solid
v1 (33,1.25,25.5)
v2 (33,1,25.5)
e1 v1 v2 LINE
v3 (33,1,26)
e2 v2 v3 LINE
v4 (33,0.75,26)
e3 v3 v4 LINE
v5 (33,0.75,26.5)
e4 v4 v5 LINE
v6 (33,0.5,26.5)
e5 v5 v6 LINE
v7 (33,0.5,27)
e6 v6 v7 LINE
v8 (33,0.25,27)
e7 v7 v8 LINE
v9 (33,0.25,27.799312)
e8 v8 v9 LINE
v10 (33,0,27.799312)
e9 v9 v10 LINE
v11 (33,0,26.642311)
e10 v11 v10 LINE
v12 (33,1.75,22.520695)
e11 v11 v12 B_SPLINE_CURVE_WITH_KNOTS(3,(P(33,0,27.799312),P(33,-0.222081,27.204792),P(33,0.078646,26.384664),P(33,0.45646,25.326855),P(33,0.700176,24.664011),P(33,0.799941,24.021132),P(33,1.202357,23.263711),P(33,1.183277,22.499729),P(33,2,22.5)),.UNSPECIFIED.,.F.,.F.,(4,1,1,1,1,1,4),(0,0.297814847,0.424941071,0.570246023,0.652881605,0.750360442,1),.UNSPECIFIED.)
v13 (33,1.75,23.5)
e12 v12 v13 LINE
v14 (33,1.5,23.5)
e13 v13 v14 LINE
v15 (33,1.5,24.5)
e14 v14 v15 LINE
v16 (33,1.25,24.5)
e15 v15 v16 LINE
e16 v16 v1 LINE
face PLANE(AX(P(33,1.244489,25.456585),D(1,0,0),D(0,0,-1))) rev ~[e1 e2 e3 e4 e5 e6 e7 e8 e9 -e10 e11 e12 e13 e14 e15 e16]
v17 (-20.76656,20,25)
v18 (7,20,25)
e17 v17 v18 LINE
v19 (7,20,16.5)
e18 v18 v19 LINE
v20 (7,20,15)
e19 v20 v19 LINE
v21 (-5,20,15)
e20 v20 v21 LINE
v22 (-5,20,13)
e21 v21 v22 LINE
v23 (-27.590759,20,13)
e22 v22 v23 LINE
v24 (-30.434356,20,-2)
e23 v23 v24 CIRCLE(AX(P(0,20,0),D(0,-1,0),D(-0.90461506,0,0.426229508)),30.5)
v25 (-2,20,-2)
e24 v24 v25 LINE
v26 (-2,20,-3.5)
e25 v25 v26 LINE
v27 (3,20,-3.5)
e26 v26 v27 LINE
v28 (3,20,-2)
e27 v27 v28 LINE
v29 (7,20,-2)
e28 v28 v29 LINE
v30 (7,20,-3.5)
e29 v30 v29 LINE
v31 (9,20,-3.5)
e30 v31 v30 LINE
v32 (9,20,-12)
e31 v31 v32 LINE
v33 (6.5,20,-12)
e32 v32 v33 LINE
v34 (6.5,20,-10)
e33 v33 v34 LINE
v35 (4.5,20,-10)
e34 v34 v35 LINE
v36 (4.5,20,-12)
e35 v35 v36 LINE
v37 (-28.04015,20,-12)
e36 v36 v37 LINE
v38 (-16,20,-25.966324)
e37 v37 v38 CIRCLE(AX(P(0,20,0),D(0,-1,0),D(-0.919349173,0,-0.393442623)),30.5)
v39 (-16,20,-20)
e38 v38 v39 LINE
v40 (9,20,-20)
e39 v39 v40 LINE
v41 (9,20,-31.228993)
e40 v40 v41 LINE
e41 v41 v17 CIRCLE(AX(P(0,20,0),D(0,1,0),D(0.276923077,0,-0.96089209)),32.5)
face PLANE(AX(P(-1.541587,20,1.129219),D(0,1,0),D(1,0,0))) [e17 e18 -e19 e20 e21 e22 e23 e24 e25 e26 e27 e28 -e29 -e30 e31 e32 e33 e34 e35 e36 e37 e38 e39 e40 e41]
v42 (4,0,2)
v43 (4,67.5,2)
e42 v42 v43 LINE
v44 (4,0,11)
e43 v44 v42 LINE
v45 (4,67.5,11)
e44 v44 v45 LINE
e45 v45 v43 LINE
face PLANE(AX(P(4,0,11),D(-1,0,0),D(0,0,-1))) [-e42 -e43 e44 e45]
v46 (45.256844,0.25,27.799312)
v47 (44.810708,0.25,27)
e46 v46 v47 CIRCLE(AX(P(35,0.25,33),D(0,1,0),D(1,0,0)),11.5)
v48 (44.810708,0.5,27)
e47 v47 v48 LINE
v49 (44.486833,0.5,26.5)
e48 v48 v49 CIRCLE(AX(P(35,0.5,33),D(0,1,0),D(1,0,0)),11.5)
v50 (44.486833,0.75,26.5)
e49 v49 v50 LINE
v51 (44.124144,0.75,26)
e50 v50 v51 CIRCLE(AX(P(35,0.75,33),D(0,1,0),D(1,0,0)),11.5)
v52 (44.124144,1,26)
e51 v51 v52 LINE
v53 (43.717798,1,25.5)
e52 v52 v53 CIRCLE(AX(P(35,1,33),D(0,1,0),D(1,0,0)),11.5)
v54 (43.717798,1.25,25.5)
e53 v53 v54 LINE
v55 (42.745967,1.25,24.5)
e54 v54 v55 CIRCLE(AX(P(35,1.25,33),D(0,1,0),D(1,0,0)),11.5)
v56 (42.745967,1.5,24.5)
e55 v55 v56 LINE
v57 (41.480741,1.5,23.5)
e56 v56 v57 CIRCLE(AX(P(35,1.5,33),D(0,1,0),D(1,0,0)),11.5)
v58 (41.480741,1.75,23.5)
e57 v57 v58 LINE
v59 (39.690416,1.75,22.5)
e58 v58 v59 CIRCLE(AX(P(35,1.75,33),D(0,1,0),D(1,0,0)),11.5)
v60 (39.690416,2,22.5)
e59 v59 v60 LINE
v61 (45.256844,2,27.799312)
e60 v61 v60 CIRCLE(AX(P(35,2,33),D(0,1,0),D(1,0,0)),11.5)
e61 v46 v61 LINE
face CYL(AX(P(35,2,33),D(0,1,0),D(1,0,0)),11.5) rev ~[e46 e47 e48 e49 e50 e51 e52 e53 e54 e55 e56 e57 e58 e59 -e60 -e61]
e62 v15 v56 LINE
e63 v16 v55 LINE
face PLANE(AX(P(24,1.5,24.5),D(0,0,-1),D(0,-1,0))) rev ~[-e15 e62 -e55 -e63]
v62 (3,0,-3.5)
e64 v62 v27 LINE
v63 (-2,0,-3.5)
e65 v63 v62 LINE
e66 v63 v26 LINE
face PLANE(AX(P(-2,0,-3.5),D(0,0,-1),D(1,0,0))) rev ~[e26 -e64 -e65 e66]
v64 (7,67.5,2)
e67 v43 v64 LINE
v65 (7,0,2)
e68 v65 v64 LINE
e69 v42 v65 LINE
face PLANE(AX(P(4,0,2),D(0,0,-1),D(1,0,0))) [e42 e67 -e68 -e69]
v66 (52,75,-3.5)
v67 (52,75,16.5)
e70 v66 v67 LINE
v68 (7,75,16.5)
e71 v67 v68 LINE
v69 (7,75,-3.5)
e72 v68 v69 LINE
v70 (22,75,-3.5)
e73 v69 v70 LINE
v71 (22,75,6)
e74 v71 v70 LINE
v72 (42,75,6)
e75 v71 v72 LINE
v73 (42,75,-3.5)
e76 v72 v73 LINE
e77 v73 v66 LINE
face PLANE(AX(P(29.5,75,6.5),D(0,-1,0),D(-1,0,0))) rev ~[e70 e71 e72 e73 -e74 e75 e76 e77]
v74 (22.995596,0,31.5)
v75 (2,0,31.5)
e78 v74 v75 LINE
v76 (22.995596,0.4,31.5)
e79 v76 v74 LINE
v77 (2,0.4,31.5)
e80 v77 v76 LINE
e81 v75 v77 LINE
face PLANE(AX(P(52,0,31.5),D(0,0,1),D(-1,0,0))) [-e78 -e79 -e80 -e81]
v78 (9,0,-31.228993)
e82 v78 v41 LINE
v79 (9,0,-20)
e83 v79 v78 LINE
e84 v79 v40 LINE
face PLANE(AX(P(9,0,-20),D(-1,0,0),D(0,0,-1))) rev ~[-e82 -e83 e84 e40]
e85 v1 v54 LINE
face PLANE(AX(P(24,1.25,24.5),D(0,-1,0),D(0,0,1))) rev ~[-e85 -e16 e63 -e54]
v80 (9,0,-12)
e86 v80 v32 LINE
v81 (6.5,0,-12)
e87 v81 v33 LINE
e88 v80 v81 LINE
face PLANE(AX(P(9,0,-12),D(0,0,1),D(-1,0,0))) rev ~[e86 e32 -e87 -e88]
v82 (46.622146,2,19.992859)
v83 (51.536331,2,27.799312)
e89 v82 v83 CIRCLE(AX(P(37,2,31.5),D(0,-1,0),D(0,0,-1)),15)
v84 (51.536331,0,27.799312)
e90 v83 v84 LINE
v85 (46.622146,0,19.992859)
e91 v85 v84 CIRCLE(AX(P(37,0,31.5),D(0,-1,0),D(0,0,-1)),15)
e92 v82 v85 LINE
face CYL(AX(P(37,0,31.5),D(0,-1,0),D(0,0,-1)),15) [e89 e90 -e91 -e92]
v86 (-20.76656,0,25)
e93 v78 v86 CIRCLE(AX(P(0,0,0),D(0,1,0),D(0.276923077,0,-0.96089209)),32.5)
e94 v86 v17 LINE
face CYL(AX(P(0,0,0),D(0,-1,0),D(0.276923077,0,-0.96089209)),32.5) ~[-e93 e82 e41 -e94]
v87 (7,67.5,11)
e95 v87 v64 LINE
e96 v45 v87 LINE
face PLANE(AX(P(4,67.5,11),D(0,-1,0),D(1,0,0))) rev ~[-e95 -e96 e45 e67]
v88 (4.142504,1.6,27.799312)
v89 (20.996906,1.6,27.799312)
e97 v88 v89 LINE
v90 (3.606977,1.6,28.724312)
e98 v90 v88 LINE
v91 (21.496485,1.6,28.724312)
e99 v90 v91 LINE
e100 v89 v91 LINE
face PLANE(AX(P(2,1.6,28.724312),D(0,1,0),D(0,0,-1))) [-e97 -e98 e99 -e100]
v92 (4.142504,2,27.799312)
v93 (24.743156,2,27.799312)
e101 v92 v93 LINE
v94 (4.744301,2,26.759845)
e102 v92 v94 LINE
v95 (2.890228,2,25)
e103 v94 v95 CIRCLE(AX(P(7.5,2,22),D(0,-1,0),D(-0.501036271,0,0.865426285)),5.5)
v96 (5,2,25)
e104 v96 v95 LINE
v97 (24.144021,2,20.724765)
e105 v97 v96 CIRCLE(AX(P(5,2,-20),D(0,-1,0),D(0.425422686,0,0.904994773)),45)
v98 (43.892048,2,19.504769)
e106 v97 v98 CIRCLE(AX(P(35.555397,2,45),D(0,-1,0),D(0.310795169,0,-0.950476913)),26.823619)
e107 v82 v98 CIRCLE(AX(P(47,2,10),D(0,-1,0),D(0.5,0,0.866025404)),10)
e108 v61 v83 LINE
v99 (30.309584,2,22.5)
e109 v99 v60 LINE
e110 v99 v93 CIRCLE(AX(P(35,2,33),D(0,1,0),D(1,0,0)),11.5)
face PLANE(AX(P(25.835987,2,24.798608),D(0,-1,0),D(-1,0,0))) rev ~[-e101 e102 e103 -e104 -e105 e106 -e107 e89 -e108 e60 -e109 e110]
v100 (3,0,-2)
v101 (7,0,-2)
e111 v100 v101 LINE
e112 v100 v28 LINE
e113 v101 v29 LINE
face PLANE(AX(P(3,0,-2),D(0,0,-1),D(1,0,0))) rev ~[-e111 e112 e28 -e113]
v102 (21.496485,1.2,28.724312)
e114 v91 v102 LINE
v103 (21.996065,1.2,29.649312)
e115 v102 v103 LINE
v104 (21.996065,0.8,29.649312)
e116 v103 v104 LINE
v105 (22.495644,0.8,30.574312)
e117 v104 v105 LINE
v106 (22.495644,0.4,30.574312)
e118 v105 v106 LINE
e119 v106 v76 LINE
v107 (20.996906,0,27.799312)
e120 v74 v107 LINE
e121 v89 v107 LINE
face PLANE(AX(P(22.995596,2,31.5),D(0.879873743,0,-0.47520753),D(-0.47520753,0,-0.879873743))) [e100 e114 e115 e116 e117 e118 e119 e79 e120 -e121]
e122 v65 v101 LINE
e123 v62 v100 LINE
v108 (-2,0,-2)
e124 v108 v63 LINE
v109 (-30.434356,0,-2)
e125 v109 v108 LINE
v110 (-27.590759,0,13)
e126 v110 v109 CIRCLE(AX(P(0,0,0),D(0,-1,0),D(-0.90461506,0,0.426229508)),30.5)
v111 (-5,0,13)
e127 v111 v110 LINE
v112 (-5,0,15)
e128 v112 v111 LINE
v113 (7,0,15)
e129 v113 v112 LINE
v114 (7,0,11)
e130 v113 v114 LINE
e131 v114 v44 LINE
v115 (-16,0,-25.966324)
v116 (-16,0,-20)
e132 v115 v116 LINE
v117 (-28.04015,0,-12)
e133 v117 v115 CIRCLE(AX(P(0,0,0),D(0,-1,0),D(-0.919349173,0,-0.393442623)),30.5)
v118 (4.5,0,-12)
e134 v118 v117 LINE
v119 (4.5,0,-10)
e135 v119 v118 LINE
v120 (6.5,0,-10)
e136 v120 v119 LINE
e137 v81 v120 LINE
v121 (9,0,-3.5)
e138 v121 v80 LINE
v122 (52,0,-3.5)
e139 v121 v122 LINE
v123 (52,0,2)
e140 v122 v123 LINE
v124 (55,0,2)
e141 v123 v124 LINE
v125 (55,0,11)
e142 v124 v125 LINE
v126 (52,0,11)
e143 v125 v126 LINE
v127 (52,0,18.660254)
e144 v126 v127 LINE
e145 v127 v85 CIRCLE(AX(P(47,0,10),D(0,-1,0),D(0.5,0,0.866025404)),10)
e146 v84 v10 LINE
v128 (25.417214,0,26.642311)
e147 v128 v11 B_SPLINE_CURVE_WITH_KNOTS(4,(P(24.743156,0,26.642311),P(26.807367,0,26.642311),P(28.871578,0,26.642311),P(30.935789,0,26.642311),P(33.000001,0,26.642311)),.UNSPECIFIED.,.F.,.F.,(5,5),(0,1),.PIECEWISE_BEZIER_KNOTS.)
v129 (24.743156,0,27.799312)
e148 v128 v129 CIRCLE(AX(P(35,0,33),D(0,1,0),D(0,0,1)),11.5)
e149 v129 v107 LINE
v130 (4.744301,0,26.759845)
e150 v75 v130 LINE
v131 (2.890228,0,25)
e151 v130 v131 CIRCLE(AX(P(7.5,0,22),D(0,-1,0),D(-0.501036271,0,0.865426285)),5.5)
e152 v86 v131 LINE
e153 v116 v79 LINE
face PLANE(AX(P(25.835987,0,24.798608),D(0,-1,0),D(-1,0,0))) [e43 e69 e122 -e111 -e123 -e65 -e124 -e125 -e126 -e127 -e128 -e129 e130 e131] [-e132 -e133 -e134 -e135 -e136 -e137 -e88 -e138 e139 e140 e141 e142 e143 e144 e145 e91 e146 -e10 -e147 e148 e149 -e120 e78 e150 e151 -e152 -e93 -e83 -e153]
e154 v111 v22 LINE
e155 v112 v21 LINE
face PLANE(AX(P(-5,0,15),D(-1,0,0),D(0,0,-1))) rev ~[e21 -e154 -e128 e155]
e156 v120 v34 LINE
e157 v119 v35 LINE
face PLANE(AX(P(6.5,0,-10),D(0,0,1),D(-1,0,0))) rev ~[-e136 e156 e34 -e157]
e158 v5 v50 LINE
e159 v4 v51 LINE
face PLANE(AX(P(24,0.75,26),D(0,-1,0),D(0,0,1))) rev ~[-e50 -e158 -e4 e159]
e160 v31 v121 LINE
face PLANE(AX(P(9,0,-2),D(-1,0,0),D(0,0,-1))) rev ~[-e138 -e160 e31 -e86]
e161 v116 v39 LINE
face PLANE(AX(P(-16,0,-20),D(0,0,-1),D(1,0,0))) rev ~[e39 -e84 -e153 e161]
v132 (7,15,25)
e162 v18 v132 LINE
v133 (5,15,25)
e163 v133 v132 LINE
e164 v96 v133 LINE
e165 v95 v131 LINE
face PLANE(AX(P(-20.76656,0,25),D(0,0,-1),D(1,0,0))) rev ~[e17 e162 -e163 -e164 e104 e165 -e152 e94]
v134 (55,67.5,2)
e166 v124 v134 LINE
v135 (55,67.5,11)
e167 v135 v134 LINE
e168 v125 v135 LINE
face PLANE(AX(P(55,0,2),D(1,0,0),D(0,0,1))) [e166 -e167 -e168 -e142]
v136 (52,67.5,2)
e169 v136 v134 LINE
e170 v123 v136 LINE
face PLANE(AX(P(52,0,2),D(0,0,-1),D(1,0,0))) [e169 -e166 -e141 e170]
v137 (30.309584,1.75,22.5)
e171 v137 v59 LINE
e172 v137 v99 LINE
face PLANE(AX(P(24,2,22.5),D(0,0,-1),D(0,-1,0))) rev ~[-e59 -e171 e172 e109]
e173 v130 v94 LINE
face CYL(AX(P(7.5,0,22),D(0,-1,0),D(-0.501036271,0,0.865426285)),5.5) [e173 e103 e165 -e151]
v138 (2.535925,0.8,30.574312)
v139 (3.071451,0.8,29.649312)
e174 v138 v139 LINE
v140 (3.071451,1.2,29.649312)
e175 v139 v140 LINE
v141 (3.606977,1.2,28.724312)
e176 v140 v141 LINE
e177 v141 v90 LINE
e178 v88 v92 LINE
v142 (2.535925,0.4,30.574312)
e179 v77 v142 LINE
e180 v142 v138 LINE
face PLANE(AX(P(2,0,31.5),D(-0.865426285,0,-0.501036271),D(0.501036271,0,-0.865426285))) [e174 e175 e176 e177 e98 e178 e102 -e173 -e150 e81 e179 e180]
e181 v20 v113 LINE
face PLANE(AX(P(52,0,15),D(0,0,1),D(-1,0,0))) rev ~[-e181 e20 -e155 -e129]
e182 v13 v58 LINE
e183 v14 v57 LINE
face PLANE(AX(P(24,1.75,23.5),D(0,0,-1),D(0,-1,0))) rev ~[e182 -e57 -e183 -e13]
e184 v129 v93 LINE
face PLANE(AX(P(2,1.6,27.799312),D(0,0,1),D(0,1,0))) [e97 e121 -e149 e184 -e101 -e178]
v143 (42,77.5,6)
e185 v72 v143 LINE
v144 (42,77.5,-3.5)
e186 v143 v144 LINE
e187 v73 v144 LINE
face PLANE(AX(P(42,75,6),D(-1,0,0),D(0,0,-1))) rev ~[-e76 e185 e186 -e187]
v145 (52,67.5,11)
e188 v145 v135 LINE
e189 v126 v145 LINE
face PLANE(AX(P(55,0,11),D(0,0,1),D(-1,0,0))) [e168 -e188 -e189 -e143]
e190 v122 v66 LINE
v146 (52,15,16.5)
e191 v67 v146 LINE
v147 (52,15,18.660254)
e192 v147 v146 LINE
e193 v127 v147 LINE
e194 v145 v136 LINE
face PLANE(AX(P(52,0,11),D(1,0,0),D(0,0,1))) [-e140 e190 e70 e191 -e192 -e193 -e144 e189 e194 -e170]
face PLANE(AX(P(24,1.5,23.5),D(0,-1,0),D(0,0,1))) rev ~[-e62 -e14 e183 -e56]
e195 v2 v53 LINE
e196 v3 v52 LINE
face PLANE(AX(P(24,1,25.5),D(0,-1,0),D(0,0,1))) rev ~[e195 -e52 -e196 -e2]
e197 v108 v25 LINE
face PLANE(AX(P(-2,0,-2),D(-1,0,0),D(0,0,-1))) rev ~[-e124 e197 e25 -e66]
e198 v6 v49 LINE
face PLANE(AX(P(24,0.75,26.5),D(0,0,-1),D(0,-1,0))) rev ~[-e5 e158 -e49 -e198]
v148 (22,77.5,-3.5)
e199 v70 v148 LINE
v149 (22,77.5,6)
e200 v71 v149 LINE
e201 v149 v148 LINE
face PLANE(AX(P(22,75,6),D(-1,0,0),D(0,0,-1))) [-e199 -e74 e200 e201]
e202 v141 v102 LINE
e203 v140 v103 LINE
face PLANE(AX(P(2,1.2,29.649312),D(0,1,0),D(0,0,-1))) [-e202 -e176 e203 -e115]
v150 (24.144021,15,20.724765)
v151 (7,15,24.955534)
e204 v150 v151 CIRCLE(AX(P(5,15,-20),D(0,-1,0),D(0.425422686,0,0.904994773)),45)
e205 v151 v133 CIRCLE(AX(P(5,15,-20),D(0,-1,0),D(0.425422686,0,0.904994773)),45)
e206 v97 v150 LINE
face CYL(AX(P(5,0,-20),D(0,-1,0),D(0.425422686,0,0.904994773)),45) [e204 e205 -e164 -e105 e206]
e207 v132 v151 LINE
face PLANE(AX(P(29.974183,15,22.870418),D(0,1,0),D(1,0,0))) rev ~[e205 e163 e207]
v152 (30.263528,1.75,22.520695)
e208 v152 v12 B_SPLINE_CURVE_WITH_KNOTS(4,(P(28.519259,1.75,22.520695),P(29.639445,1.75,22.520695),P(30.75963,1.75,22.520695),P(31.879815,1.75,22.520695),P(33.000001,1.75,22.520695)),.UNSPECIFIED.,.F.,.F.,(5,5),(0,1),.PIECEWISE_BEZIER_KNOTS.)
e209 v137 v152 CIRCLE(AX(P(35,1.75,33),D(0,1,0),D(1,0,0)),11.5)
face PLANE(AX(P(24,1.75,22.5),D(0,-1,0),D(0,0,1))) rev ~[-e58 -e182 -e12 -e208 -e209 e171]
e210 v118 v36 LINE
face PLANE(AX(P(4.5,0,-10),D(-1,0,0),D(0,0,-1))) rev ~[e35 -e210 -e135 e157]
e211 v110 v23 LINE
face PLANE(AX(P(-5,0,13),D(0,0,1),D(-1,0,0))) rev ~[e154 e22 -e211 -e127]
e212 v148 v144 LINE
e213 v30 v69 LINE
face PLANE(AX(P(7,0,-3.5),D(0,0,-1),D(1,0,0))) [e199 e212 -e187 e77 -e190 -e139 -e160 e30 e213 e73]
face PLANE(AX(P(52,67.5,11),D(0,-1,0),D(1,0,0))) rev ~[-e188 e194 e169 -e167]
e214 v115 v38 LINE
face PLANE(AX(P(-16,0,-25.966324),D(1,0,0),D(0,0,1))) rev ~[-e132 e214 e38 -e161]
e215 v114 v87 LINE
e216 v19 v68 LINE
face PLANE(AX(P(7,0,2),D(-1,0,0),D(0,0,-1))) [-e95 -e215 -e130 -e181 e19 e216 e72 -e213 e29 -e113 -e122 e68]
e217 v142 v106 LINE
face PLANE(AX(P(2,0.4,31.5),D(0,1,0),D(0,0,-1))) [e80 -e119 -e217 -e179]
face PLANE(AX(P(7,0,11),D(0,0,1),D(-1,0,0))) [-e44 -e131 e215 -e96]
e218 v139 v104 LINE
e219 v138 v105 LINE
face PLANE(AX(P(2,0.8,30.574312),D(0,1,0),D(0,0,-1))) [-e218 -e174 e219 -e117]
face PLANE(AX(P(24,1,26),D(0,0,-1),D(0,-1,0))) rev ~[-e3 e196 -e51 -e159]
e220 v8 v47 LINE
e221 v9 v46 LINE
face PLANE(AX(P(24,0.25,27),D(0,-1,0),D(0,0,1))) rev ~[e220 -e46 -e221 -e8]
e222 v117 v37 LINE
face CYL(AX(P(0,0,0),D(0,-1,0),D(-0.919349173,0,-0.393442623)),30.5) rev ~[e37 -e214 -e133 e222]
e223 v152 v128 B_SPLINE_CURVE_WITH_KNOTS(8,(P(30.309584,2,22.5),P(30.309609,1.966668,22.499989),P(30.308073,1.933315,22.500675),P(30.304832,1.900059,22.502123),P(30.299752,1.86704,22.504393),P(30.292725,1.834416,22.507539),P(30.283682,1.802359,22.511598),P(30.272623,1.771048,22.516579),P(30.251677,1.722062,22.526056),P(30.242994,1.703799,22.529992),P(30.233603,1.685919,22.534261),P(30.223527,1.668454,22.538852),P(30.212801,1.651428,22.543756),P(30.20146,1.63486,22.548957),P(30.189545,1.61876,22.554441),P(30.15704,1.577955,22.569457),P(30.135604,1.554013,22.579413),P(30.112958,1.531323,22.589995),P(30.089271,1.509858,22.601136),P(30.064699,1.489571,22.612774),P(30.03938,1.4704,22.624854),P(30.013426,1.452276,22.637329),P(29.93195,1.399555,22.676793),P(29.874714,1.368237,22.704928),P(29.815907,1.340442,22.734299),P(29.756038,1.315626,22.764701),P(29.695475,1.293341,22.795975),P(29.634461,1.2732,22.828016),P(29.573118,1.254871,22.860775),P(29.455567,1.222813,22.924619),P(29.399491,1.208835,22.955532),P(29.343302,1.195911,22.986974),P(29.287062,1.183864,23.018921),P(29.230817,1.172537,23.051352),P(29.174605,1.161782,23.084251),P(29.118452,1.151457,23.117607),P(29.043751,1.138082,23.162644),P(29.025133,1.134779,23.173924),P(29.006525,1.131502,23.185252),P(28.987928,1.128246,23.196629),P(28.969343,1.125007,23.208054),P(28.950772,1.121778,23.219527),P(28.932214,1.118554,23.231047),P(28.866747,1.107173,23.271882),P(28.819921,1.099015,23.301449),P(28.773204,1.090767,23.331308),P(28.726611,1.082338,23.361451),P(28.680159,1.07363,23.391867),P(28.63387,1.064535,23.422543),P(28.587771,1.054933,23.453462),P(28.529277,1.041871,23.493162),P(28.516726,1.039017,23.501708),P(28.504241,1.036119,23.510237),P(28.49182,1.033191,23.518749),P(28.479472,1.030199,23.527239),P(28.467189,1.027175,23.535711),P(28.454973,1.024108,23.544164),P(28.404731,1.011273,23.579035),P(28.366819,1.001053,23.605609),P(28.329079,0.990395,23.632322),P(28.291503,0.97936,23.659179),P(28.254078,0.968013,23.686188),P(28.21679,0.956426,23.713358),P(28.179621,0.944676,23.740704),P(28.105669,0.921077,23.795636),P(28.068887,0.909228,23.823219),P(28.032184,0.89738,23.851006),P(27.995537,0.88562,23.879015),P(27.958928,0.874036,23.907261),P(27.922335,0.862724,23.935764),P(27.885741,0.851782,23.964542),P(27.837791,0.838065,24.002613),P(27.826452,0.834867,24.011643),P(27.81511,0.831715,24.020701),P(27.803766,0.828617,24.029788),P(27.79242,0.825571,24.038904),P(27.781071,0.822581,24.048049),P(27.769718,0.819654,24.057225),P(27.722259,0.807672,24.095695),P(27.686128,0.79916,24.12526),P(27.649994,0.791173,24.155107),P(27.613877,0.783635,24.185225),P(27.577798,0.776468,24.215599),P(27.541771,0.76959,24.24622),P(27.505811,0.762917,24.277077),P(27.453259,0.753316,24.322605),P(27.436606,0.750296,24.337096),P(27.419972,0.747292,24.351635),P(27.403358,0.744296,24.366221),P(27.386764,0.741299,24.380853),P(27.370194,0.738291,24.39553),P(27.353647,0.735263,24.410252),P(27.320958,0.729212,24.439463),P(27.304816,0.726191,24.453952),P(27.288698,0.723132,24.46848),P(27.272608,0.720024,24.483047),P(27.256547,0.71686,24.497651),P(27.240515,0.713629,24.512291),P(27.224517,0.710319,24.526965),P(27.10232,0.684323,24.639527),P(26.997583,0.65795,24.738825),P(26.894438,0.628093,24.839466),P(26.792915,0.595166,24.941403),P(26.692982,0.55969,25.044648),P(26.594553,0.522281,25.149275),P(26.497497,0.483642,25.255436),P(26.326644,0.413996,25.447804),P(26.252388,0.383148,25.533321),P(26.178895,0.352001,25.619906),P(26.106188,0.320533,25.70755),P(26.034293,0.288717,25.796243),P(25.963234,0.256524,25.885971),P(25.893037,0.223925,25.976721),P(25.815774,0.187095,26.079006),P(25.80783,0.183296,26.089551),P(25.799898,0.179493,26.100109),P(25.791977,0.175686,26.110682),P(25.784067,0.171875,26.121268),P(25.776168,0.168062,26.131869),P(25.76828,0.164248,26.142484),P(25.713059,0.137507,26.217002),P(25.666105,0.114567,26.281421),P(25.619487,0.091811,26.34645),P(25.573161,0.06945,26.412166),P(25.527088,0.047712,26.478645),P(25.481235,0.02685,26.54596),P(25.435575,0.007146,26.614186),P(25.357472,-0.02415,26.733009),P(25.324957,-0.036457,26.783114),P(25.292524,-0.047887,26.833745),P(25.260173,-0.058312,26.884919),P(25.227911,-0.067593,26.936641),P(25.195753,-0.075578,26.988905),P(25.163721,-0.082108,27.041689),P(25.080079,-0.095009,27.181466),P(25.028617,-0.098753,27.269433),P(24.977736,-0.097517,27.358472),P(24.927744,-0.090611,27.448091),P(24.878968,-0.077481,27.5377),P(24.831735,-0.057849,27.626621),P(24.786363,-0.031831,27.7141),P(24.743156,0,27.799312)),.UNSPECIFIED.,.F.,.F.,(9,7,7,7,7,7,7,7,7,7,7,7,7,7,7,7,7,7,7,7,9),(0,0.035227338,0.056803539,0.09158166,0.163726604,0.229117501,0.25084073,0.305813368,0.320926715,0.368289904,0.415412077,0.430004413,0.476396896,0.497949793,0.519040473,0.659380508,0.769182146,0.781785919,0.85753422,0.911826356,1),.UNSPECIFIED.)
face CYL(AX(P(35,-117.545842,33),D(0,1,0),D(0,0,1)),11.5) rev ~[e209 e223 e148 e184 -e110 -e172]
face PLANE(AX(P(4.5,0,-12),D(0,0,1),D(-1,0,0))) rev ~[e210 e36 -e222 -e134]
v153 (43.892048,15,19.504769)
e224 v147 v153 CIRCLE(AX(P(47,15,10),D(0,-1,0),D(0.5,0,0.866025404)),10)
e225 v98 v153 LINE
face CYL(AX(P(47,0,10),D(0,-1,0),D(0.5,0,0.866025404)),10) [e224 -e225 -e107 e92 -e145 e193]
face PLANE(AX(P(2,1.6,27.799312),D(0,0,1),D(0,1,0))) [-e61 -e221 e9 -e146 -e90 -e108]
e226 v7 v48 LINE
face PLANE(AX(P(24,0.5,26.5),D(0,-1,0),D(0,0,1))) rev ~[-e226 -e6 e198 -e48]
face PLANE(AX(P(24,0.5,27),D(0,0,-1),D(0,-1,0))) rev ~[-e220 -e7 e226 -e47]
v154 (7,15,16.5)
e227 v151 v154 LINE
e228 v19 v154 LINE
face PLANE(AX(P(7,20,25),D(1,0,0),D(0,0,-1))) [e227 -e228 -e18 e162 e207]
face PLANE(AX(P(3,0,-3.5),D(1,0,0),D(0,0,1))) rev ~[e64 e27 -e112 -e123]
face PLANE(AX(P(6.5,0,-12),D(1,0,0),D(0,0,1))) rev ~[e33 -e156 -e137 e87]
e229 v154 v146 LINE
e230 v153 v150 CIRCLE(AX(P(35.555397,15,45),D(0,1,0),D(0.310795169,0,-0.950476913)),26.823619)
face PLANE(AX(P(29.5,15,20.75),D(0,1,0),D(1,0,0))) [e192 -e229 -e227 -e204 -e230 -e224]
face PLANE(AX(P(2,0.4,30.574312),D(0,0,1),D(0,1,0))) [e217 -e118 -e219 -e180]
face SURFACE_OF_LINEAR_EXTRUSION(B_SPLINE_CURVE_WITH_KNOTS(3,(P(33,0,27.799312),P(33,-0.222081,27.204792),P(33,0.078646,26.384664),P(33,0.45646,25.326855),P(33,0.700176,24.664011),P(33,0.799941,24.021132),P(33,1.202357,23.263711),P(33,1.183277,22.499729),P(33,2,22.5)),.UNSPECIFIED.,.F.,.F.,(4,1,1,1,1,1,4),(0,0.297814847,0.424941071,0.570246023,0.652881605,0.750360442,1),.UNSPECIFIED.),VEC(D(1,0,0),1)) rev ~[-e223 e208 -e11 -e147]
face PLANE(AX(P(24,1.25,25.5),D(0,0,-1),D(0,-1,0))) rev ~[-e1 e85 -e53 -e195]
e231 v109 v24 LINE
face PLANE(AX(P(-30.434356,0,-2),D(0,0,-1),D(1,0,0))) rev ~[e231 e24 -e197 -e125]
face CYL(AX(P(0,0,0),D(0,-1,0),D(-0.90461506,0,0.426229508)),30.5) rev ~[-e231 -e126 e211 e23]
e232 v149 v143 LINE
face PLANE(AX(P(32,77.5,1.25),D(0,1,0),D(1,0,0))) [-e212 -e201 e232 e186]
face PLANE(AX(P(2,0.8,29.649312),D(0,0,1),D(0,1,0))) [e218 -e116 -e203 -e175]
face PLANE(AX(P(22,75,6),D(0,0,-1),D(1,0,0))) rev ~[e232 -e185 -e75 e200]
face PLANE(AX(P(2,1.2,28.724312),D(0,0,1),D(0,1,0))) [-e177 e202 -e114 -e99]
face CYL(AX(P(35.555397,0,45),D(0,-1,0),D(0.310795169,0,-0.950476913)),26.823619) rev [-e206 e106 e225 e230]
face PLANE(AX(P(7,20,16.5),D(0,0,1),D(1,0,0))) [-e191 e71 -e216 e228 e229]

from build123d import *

# Parameters (mm, degrees)
EXTRUDE_1_DEPTH          = 20
EXTRUDE_2_DEPTH          = 75
CUT_EXTRUDE_1_REACH      = 104.675
SKETCH_4_W               = 3
SKETCH_4_H               = 7.5
CUT_EXTRUDE_3_DEPTH      = 15
SKETCH_10_W              = 45
SKETCH_10_H              = 8.5
CUT_EXTRUDE_4_DEPTH      = 5
EXTRUDE_7_DEPTH          = 2
CUT_EXTRUDE_5_REACH      = 99.006
CUT_EXTRUDE_6_DEPTH      = 21
CUT_EXTRUDE_7_REACH      = 99.006
SKETCH_16_R              = 11.5
EXTRUDE_8_DEPTH          = 11
EXTRUDE_8_DEPTH_BACK     = 11
CUT_EXTRUDE_8_REACH      = 106.745
CUT_EXTRUDE_8_END_RADIUS = 11.5
SKETCH_22_W              = 20
SKETCH_22_H              = 9.5
EXTRUDE_9_DEPTH          = 2.5


with BuildPart() as part:
    # 草图1 → 凸台-拉伸1 (new body)
    with BuildSketch(Plane(origin=(0, 0, 0), x_dir=(1, 0, 0), z_dir=(0, 1, 0))):
        with BuildLine():
            Line((-20.766559657, -25), (52, -25))
            Line((52, -25), (52, -15))
            Line((52, -15), (-5, -15))
            Line((-5, -15), (-5, -13))
            Line((-5, -13), (-27.590759323, -13))
            ThreePointArc((-27.590759323, -13), (-29.966289228, -5.680801874), (-30.434355587, 2))
            Line((-30.434355587, 2), (-2, 2))
            Line((-2, 2), (-2, 3.5))
            Line((-2, 3.5), (3, 3.5))
            Line((3, 3.5), (3, 2))
            Line((3, 2), (9, 2))
            Line((9, 2), (9, 12))
            Line((9, 12), (6.5, 12))
            Line((6.5, 12), (6.5, 10))
            Line((6.5, 10), (4.5, 10))
            Line((4.5, 10), (4.5, 12))
            Line((4.5, 12), (-28.040149786, 12))
            ThreePointArc((-28.040149786, 12), (-23.100827955, 19.914862485), (-16, 25.966324345))
            Line((-16, 25.966324345), (-16, 20))
            Line((-16, 20), (9, 20))
            Line((9, 20), (9, 31.228992939))
            ThreePointArc((9, 31.228992939), (-28.723472863, 15.205660351), (-20.766559657, -25))
        make_face()
    extrude(amount=EXTRUDE_1_DEPTH)

    # 草图3 → 凸台-拉伸2 (add)
    with BuildSketch(Plane(origin=(0, 0, 0), x_dir=(1, 0, 0), z_dir=(0, 1, 0))):
        Polygon((7, 3.5), (52, 3.5), (52, -2), (55, -2), (55, -11), (52, -11), (52, -16.5), (7, -16.5), (7, -11), (4, -11), (4, -2), (7, -2), align=None)
    extrude(amount=EXTRUDE_2_DEPTH)

    # 草图4 → 切除-拉伸1 (cut, up to next)
    with BuildSketch(Plane.XY.offset(11), mode=Mode.PRIVATE) as cut_extrude_1_sk1:
        with Locations((5.5, 71.25)):
            Rectangle(SKETCH_4_W, SKETCH_4_H)
    cut_extrude_1_tool1 = extrude(cut_extrude_1_sk1.sketch, amount=-CUT_EXTRUDE_1_REACH, mode=Mode.PRIVATE) & part.part
    # 草图4 → 切除-拉伸1 (cut, up to next)
    with BuildSketch(Plane.XY.offset(11), mode=Mode.PRIVATE) as cut_extrude_1_sk2:
        with Locations((53.5, 71.25)):
            Rectangle(SKETCH_4_W, SKETCH_4_H)
    cut_extrude_1_tool2 = extrude(cut_extrude_1_sk2.sketch, amount=-CUT_EXTRUDE_1_REACH, mode=Mode.PRIVATE) & part.part
    add(cut_extrude_1_tool1.solids().sort_by_distance((5.5, 71.25, 11))[0], mode=Mode.SUBTRACT)
    add(cut_extrude_1_tool2.solids().sort_by_distance((53.5, 71.25, 11))[0], mode=Mode.SUBTRACT)

    # 草图9 → 切除-拉伸3 (cut)
    with BuildSketch(Plane(origin=(0, 0, 0), x_dir=(1, 0, 0), z_dir=(0, 1, 0))):
        with BuildLine():
            Line((52, -25), (52, -18.660254038))
            ThreePointArc((52, -18.660254038), (48.035984141, -19.946192078), (43.892048311, -19.504769134))
            ThreePointArc((43.892048311, -19.504769134), (33.901437956, -18.227421286), (24.144020863, -20.724764765))
            ThreePointArc((24.144020863, -20.724764765), (14.807792452, -23.918187659), (5, -25))
            Line((5, -25), (52, -25))
        make_face()
    extrude(amount=CUT_EXTRUDE_3_DEPTH, mode=Mode.SUBTRACT)

    # 草图10 → 切除-拉伸4 (cut)
    with BuildSketch(Plane(origin=(0, 20, 0), x_dir=(1, 0, 0), z_dir=(0, 1, 0))):
        with Locations((29.5, -20.75)):
            Rectangle(SKETCH_10_W, SKETCH_10_H)
    extrude(amount=-CUT_EXTRUDE_4_DEPTH, mode=Mode.SUBTRACT)

    # 草图11 → 凸台-拉伸7 (add)
    with BuildSketch(Plane(origin=(0, 0, 0), x_dir=(1, 0, 0), z_dir=(0, 1, 0))):
        with BuildLine():
            Line((2, -31.5), (4.744300512, -26.75984457))
            ThreePointArc((4.744300512, -26.75984457), (2.188260872, -20.573315931), (7.5, -16.5))
            Line((7.5, -16.5), (37, -16.5))
            ThreePointArc((37, -16.5), (47.606601718, -20.893398282), (52, -31.5))
            Line((52, -31.5), (2, -31.5))
        make_face()
    extrude(amount=EXTRUDE_7_DEPTH)

    # 草图13 → 切除-拉伸5 (cut, up to next)
    with BuildSketch(Plane(origin=(0, 2, 0), x_dir=(1, 0, 0), z_dir=(0, 1, 0)), mode=Mode.PRIVATE) as cut_extrude_5_sk1:
        Polygon((22.995595677, -31.5), (20.996905673, -27.799311895), (54.018038791, -27.799311895), (54.018038791, -31.5), align=None)
    cut_extrude_5_tool1 = extrude(cut_extrude_5_sk1.sketch, amount=-CUT_EXTRUDE_5_REACH, mode=Mode.PRIVATE) & part.part
    add(cut_extrude_5_tool1.solids().sort_by_distance((38.001947, 2, 29.630407))[0], mode=Mode.SUBTRACT)

    # 草图15 → 切除-拉伸6 (cut)
    with BuildSketch(Plane(origin=(2, 0, 0), x_dir=(0, 0, -1), z_dir=(1, 0, 0))):
        Polygon((-31.5, 0.4), (-30.574311895, 0.4), (-30.574311895, 0.8), (-29.649311895, 0.8), (-29.649311895, 1.2), (-28.724311895, 1.2), (-28.724311895, 1.6), (-27.799311895, 1.6), (-27.799311895, 2), (-31.5, 2), align=None)
    extrude(amount=CUT_EXTRUDE_6_DEPTH, mode=Mode.SUBTRACT)

    # 草图16 → 切除-拉伸7 (cut, up to next)
    with BuildSketch(Plane(origin=(0, 2, 0), x_dir=(1, 0, 0), z_dir=(0, 1, 0)), mode=Mode.PRIVATE) as cut_extrude_7_sk1:
        with Locations((35, -33)):
            Circle(SKETCH_16_R)
    cut_extrude_7_tool1 = extrude(cut_extrude_7_sk1.sketch, amount=-CUT_EXTRUDE_7_REACH, mode=Mode.PRIVATE) & part.part
    add(cut_extrude_7_tool1.solids().sort_by_distance((35, 2, 33))[0], mode=Mode.SUBTRACT)

    # 草图18 → 凸台-拉伸8 (add, two sides: drawn at the far end of the back side and taken through both)
    with BuildSketch(Plane(origin=(35, 0, 0), x_dir=(0, 0, -1), z_dir=(1, 0, 0)).offset(-EXTRUDE_8_DEPTH_BACK)):
        Polygon((-27.799311895, 0.25), (-27.799311895, 0), (-21.5, 0), (-21.5, 2), (-22.5, 2), (-22.5, 1.75), (-23.5, 1.75), (-23.5, 1.5), (-24.5, 1.5), (-24.5, 1.25), (-25.5, 1.25), (-25.5, 1), (-26, 1), (-26, 0.75), (-26.5, 0.75), (-26.5, 0.5), (-27, 0.5), (-27, 0.25), align=None)
    extrude(amount=EXTRUDE_8_DEPTH + EXTRUDE_8_DEPTH_BACK)

    # 切除-拉伸8: up to this cylinder (the profile starts inside it)
    cut_extrude_8_end = Plane(origin=(35, 1.199158, 33), z_dir=(0, 1, 0)) * Cylinder(CUT_EXTRUDE_8_END_RADIUS, 237.49, mode=Mode.PRIVATE)
    # 草图21 → 切除-拉伸8 (cut, up to the surface)
    with BuildSketch(Plane(origin=(33, 0, 0), x_dir=(0, 0, -1), z_dir=(1, 0, 0)), mode=Mode.PRIVATE) as cut_extrude_8_sk1:
        with BuildLine():
            Line((-22.5, 2), (-27.799311895, 2.043691233))
            Line((-27.799311895, 2.043691233), (-27.799311895, 0))
            add(Edge.make_bspline(
                [(-27.799311895, 0), (-27.204791672, -0.222081078), (-26.384663507, 0.078646126), (-25.326854987, 0.456459594), (-24.66401125, 0.700176127), (-24.021132133, 0.799941058), (-23.26371078, 1.202357465), (-22.499729223, 1.183276831), (-22.5, 2)],
                knots=[0, 0, 0, 0, 0.297814847, 0.424941071, 0.570246023, 0.652881605, 0.750360442, 1, 1, 1, 1], degree=3))
        make_face()
    cut_extrude_8_tool1 = extrude(cut_extrude_8_sk1.sketch, amount=-CUT_EXTRUDE_8_REACH, mode=Mode.PRIVATE) & cut_extrude_8_end
    add(cut_extrude_8_tool1.solids().sort_by_distance((33, 1.199158, 25.64967))[0], mode=Mode.SUBTRACT)

    # 草图22 → 凸台-拉伸9 (add)
    with BuildSketch(Plane(origin=(0, 75, 0), x_dir=(1, 0, 0), z_dir=(0, 1, 0))):
        with Locations((32, -1.25)):
            Rectangle(SKETCH_22_W, SKETCH_22_H)
    extrude(amount=EXTRUDE_9_DEPTH)


solid = part.part
